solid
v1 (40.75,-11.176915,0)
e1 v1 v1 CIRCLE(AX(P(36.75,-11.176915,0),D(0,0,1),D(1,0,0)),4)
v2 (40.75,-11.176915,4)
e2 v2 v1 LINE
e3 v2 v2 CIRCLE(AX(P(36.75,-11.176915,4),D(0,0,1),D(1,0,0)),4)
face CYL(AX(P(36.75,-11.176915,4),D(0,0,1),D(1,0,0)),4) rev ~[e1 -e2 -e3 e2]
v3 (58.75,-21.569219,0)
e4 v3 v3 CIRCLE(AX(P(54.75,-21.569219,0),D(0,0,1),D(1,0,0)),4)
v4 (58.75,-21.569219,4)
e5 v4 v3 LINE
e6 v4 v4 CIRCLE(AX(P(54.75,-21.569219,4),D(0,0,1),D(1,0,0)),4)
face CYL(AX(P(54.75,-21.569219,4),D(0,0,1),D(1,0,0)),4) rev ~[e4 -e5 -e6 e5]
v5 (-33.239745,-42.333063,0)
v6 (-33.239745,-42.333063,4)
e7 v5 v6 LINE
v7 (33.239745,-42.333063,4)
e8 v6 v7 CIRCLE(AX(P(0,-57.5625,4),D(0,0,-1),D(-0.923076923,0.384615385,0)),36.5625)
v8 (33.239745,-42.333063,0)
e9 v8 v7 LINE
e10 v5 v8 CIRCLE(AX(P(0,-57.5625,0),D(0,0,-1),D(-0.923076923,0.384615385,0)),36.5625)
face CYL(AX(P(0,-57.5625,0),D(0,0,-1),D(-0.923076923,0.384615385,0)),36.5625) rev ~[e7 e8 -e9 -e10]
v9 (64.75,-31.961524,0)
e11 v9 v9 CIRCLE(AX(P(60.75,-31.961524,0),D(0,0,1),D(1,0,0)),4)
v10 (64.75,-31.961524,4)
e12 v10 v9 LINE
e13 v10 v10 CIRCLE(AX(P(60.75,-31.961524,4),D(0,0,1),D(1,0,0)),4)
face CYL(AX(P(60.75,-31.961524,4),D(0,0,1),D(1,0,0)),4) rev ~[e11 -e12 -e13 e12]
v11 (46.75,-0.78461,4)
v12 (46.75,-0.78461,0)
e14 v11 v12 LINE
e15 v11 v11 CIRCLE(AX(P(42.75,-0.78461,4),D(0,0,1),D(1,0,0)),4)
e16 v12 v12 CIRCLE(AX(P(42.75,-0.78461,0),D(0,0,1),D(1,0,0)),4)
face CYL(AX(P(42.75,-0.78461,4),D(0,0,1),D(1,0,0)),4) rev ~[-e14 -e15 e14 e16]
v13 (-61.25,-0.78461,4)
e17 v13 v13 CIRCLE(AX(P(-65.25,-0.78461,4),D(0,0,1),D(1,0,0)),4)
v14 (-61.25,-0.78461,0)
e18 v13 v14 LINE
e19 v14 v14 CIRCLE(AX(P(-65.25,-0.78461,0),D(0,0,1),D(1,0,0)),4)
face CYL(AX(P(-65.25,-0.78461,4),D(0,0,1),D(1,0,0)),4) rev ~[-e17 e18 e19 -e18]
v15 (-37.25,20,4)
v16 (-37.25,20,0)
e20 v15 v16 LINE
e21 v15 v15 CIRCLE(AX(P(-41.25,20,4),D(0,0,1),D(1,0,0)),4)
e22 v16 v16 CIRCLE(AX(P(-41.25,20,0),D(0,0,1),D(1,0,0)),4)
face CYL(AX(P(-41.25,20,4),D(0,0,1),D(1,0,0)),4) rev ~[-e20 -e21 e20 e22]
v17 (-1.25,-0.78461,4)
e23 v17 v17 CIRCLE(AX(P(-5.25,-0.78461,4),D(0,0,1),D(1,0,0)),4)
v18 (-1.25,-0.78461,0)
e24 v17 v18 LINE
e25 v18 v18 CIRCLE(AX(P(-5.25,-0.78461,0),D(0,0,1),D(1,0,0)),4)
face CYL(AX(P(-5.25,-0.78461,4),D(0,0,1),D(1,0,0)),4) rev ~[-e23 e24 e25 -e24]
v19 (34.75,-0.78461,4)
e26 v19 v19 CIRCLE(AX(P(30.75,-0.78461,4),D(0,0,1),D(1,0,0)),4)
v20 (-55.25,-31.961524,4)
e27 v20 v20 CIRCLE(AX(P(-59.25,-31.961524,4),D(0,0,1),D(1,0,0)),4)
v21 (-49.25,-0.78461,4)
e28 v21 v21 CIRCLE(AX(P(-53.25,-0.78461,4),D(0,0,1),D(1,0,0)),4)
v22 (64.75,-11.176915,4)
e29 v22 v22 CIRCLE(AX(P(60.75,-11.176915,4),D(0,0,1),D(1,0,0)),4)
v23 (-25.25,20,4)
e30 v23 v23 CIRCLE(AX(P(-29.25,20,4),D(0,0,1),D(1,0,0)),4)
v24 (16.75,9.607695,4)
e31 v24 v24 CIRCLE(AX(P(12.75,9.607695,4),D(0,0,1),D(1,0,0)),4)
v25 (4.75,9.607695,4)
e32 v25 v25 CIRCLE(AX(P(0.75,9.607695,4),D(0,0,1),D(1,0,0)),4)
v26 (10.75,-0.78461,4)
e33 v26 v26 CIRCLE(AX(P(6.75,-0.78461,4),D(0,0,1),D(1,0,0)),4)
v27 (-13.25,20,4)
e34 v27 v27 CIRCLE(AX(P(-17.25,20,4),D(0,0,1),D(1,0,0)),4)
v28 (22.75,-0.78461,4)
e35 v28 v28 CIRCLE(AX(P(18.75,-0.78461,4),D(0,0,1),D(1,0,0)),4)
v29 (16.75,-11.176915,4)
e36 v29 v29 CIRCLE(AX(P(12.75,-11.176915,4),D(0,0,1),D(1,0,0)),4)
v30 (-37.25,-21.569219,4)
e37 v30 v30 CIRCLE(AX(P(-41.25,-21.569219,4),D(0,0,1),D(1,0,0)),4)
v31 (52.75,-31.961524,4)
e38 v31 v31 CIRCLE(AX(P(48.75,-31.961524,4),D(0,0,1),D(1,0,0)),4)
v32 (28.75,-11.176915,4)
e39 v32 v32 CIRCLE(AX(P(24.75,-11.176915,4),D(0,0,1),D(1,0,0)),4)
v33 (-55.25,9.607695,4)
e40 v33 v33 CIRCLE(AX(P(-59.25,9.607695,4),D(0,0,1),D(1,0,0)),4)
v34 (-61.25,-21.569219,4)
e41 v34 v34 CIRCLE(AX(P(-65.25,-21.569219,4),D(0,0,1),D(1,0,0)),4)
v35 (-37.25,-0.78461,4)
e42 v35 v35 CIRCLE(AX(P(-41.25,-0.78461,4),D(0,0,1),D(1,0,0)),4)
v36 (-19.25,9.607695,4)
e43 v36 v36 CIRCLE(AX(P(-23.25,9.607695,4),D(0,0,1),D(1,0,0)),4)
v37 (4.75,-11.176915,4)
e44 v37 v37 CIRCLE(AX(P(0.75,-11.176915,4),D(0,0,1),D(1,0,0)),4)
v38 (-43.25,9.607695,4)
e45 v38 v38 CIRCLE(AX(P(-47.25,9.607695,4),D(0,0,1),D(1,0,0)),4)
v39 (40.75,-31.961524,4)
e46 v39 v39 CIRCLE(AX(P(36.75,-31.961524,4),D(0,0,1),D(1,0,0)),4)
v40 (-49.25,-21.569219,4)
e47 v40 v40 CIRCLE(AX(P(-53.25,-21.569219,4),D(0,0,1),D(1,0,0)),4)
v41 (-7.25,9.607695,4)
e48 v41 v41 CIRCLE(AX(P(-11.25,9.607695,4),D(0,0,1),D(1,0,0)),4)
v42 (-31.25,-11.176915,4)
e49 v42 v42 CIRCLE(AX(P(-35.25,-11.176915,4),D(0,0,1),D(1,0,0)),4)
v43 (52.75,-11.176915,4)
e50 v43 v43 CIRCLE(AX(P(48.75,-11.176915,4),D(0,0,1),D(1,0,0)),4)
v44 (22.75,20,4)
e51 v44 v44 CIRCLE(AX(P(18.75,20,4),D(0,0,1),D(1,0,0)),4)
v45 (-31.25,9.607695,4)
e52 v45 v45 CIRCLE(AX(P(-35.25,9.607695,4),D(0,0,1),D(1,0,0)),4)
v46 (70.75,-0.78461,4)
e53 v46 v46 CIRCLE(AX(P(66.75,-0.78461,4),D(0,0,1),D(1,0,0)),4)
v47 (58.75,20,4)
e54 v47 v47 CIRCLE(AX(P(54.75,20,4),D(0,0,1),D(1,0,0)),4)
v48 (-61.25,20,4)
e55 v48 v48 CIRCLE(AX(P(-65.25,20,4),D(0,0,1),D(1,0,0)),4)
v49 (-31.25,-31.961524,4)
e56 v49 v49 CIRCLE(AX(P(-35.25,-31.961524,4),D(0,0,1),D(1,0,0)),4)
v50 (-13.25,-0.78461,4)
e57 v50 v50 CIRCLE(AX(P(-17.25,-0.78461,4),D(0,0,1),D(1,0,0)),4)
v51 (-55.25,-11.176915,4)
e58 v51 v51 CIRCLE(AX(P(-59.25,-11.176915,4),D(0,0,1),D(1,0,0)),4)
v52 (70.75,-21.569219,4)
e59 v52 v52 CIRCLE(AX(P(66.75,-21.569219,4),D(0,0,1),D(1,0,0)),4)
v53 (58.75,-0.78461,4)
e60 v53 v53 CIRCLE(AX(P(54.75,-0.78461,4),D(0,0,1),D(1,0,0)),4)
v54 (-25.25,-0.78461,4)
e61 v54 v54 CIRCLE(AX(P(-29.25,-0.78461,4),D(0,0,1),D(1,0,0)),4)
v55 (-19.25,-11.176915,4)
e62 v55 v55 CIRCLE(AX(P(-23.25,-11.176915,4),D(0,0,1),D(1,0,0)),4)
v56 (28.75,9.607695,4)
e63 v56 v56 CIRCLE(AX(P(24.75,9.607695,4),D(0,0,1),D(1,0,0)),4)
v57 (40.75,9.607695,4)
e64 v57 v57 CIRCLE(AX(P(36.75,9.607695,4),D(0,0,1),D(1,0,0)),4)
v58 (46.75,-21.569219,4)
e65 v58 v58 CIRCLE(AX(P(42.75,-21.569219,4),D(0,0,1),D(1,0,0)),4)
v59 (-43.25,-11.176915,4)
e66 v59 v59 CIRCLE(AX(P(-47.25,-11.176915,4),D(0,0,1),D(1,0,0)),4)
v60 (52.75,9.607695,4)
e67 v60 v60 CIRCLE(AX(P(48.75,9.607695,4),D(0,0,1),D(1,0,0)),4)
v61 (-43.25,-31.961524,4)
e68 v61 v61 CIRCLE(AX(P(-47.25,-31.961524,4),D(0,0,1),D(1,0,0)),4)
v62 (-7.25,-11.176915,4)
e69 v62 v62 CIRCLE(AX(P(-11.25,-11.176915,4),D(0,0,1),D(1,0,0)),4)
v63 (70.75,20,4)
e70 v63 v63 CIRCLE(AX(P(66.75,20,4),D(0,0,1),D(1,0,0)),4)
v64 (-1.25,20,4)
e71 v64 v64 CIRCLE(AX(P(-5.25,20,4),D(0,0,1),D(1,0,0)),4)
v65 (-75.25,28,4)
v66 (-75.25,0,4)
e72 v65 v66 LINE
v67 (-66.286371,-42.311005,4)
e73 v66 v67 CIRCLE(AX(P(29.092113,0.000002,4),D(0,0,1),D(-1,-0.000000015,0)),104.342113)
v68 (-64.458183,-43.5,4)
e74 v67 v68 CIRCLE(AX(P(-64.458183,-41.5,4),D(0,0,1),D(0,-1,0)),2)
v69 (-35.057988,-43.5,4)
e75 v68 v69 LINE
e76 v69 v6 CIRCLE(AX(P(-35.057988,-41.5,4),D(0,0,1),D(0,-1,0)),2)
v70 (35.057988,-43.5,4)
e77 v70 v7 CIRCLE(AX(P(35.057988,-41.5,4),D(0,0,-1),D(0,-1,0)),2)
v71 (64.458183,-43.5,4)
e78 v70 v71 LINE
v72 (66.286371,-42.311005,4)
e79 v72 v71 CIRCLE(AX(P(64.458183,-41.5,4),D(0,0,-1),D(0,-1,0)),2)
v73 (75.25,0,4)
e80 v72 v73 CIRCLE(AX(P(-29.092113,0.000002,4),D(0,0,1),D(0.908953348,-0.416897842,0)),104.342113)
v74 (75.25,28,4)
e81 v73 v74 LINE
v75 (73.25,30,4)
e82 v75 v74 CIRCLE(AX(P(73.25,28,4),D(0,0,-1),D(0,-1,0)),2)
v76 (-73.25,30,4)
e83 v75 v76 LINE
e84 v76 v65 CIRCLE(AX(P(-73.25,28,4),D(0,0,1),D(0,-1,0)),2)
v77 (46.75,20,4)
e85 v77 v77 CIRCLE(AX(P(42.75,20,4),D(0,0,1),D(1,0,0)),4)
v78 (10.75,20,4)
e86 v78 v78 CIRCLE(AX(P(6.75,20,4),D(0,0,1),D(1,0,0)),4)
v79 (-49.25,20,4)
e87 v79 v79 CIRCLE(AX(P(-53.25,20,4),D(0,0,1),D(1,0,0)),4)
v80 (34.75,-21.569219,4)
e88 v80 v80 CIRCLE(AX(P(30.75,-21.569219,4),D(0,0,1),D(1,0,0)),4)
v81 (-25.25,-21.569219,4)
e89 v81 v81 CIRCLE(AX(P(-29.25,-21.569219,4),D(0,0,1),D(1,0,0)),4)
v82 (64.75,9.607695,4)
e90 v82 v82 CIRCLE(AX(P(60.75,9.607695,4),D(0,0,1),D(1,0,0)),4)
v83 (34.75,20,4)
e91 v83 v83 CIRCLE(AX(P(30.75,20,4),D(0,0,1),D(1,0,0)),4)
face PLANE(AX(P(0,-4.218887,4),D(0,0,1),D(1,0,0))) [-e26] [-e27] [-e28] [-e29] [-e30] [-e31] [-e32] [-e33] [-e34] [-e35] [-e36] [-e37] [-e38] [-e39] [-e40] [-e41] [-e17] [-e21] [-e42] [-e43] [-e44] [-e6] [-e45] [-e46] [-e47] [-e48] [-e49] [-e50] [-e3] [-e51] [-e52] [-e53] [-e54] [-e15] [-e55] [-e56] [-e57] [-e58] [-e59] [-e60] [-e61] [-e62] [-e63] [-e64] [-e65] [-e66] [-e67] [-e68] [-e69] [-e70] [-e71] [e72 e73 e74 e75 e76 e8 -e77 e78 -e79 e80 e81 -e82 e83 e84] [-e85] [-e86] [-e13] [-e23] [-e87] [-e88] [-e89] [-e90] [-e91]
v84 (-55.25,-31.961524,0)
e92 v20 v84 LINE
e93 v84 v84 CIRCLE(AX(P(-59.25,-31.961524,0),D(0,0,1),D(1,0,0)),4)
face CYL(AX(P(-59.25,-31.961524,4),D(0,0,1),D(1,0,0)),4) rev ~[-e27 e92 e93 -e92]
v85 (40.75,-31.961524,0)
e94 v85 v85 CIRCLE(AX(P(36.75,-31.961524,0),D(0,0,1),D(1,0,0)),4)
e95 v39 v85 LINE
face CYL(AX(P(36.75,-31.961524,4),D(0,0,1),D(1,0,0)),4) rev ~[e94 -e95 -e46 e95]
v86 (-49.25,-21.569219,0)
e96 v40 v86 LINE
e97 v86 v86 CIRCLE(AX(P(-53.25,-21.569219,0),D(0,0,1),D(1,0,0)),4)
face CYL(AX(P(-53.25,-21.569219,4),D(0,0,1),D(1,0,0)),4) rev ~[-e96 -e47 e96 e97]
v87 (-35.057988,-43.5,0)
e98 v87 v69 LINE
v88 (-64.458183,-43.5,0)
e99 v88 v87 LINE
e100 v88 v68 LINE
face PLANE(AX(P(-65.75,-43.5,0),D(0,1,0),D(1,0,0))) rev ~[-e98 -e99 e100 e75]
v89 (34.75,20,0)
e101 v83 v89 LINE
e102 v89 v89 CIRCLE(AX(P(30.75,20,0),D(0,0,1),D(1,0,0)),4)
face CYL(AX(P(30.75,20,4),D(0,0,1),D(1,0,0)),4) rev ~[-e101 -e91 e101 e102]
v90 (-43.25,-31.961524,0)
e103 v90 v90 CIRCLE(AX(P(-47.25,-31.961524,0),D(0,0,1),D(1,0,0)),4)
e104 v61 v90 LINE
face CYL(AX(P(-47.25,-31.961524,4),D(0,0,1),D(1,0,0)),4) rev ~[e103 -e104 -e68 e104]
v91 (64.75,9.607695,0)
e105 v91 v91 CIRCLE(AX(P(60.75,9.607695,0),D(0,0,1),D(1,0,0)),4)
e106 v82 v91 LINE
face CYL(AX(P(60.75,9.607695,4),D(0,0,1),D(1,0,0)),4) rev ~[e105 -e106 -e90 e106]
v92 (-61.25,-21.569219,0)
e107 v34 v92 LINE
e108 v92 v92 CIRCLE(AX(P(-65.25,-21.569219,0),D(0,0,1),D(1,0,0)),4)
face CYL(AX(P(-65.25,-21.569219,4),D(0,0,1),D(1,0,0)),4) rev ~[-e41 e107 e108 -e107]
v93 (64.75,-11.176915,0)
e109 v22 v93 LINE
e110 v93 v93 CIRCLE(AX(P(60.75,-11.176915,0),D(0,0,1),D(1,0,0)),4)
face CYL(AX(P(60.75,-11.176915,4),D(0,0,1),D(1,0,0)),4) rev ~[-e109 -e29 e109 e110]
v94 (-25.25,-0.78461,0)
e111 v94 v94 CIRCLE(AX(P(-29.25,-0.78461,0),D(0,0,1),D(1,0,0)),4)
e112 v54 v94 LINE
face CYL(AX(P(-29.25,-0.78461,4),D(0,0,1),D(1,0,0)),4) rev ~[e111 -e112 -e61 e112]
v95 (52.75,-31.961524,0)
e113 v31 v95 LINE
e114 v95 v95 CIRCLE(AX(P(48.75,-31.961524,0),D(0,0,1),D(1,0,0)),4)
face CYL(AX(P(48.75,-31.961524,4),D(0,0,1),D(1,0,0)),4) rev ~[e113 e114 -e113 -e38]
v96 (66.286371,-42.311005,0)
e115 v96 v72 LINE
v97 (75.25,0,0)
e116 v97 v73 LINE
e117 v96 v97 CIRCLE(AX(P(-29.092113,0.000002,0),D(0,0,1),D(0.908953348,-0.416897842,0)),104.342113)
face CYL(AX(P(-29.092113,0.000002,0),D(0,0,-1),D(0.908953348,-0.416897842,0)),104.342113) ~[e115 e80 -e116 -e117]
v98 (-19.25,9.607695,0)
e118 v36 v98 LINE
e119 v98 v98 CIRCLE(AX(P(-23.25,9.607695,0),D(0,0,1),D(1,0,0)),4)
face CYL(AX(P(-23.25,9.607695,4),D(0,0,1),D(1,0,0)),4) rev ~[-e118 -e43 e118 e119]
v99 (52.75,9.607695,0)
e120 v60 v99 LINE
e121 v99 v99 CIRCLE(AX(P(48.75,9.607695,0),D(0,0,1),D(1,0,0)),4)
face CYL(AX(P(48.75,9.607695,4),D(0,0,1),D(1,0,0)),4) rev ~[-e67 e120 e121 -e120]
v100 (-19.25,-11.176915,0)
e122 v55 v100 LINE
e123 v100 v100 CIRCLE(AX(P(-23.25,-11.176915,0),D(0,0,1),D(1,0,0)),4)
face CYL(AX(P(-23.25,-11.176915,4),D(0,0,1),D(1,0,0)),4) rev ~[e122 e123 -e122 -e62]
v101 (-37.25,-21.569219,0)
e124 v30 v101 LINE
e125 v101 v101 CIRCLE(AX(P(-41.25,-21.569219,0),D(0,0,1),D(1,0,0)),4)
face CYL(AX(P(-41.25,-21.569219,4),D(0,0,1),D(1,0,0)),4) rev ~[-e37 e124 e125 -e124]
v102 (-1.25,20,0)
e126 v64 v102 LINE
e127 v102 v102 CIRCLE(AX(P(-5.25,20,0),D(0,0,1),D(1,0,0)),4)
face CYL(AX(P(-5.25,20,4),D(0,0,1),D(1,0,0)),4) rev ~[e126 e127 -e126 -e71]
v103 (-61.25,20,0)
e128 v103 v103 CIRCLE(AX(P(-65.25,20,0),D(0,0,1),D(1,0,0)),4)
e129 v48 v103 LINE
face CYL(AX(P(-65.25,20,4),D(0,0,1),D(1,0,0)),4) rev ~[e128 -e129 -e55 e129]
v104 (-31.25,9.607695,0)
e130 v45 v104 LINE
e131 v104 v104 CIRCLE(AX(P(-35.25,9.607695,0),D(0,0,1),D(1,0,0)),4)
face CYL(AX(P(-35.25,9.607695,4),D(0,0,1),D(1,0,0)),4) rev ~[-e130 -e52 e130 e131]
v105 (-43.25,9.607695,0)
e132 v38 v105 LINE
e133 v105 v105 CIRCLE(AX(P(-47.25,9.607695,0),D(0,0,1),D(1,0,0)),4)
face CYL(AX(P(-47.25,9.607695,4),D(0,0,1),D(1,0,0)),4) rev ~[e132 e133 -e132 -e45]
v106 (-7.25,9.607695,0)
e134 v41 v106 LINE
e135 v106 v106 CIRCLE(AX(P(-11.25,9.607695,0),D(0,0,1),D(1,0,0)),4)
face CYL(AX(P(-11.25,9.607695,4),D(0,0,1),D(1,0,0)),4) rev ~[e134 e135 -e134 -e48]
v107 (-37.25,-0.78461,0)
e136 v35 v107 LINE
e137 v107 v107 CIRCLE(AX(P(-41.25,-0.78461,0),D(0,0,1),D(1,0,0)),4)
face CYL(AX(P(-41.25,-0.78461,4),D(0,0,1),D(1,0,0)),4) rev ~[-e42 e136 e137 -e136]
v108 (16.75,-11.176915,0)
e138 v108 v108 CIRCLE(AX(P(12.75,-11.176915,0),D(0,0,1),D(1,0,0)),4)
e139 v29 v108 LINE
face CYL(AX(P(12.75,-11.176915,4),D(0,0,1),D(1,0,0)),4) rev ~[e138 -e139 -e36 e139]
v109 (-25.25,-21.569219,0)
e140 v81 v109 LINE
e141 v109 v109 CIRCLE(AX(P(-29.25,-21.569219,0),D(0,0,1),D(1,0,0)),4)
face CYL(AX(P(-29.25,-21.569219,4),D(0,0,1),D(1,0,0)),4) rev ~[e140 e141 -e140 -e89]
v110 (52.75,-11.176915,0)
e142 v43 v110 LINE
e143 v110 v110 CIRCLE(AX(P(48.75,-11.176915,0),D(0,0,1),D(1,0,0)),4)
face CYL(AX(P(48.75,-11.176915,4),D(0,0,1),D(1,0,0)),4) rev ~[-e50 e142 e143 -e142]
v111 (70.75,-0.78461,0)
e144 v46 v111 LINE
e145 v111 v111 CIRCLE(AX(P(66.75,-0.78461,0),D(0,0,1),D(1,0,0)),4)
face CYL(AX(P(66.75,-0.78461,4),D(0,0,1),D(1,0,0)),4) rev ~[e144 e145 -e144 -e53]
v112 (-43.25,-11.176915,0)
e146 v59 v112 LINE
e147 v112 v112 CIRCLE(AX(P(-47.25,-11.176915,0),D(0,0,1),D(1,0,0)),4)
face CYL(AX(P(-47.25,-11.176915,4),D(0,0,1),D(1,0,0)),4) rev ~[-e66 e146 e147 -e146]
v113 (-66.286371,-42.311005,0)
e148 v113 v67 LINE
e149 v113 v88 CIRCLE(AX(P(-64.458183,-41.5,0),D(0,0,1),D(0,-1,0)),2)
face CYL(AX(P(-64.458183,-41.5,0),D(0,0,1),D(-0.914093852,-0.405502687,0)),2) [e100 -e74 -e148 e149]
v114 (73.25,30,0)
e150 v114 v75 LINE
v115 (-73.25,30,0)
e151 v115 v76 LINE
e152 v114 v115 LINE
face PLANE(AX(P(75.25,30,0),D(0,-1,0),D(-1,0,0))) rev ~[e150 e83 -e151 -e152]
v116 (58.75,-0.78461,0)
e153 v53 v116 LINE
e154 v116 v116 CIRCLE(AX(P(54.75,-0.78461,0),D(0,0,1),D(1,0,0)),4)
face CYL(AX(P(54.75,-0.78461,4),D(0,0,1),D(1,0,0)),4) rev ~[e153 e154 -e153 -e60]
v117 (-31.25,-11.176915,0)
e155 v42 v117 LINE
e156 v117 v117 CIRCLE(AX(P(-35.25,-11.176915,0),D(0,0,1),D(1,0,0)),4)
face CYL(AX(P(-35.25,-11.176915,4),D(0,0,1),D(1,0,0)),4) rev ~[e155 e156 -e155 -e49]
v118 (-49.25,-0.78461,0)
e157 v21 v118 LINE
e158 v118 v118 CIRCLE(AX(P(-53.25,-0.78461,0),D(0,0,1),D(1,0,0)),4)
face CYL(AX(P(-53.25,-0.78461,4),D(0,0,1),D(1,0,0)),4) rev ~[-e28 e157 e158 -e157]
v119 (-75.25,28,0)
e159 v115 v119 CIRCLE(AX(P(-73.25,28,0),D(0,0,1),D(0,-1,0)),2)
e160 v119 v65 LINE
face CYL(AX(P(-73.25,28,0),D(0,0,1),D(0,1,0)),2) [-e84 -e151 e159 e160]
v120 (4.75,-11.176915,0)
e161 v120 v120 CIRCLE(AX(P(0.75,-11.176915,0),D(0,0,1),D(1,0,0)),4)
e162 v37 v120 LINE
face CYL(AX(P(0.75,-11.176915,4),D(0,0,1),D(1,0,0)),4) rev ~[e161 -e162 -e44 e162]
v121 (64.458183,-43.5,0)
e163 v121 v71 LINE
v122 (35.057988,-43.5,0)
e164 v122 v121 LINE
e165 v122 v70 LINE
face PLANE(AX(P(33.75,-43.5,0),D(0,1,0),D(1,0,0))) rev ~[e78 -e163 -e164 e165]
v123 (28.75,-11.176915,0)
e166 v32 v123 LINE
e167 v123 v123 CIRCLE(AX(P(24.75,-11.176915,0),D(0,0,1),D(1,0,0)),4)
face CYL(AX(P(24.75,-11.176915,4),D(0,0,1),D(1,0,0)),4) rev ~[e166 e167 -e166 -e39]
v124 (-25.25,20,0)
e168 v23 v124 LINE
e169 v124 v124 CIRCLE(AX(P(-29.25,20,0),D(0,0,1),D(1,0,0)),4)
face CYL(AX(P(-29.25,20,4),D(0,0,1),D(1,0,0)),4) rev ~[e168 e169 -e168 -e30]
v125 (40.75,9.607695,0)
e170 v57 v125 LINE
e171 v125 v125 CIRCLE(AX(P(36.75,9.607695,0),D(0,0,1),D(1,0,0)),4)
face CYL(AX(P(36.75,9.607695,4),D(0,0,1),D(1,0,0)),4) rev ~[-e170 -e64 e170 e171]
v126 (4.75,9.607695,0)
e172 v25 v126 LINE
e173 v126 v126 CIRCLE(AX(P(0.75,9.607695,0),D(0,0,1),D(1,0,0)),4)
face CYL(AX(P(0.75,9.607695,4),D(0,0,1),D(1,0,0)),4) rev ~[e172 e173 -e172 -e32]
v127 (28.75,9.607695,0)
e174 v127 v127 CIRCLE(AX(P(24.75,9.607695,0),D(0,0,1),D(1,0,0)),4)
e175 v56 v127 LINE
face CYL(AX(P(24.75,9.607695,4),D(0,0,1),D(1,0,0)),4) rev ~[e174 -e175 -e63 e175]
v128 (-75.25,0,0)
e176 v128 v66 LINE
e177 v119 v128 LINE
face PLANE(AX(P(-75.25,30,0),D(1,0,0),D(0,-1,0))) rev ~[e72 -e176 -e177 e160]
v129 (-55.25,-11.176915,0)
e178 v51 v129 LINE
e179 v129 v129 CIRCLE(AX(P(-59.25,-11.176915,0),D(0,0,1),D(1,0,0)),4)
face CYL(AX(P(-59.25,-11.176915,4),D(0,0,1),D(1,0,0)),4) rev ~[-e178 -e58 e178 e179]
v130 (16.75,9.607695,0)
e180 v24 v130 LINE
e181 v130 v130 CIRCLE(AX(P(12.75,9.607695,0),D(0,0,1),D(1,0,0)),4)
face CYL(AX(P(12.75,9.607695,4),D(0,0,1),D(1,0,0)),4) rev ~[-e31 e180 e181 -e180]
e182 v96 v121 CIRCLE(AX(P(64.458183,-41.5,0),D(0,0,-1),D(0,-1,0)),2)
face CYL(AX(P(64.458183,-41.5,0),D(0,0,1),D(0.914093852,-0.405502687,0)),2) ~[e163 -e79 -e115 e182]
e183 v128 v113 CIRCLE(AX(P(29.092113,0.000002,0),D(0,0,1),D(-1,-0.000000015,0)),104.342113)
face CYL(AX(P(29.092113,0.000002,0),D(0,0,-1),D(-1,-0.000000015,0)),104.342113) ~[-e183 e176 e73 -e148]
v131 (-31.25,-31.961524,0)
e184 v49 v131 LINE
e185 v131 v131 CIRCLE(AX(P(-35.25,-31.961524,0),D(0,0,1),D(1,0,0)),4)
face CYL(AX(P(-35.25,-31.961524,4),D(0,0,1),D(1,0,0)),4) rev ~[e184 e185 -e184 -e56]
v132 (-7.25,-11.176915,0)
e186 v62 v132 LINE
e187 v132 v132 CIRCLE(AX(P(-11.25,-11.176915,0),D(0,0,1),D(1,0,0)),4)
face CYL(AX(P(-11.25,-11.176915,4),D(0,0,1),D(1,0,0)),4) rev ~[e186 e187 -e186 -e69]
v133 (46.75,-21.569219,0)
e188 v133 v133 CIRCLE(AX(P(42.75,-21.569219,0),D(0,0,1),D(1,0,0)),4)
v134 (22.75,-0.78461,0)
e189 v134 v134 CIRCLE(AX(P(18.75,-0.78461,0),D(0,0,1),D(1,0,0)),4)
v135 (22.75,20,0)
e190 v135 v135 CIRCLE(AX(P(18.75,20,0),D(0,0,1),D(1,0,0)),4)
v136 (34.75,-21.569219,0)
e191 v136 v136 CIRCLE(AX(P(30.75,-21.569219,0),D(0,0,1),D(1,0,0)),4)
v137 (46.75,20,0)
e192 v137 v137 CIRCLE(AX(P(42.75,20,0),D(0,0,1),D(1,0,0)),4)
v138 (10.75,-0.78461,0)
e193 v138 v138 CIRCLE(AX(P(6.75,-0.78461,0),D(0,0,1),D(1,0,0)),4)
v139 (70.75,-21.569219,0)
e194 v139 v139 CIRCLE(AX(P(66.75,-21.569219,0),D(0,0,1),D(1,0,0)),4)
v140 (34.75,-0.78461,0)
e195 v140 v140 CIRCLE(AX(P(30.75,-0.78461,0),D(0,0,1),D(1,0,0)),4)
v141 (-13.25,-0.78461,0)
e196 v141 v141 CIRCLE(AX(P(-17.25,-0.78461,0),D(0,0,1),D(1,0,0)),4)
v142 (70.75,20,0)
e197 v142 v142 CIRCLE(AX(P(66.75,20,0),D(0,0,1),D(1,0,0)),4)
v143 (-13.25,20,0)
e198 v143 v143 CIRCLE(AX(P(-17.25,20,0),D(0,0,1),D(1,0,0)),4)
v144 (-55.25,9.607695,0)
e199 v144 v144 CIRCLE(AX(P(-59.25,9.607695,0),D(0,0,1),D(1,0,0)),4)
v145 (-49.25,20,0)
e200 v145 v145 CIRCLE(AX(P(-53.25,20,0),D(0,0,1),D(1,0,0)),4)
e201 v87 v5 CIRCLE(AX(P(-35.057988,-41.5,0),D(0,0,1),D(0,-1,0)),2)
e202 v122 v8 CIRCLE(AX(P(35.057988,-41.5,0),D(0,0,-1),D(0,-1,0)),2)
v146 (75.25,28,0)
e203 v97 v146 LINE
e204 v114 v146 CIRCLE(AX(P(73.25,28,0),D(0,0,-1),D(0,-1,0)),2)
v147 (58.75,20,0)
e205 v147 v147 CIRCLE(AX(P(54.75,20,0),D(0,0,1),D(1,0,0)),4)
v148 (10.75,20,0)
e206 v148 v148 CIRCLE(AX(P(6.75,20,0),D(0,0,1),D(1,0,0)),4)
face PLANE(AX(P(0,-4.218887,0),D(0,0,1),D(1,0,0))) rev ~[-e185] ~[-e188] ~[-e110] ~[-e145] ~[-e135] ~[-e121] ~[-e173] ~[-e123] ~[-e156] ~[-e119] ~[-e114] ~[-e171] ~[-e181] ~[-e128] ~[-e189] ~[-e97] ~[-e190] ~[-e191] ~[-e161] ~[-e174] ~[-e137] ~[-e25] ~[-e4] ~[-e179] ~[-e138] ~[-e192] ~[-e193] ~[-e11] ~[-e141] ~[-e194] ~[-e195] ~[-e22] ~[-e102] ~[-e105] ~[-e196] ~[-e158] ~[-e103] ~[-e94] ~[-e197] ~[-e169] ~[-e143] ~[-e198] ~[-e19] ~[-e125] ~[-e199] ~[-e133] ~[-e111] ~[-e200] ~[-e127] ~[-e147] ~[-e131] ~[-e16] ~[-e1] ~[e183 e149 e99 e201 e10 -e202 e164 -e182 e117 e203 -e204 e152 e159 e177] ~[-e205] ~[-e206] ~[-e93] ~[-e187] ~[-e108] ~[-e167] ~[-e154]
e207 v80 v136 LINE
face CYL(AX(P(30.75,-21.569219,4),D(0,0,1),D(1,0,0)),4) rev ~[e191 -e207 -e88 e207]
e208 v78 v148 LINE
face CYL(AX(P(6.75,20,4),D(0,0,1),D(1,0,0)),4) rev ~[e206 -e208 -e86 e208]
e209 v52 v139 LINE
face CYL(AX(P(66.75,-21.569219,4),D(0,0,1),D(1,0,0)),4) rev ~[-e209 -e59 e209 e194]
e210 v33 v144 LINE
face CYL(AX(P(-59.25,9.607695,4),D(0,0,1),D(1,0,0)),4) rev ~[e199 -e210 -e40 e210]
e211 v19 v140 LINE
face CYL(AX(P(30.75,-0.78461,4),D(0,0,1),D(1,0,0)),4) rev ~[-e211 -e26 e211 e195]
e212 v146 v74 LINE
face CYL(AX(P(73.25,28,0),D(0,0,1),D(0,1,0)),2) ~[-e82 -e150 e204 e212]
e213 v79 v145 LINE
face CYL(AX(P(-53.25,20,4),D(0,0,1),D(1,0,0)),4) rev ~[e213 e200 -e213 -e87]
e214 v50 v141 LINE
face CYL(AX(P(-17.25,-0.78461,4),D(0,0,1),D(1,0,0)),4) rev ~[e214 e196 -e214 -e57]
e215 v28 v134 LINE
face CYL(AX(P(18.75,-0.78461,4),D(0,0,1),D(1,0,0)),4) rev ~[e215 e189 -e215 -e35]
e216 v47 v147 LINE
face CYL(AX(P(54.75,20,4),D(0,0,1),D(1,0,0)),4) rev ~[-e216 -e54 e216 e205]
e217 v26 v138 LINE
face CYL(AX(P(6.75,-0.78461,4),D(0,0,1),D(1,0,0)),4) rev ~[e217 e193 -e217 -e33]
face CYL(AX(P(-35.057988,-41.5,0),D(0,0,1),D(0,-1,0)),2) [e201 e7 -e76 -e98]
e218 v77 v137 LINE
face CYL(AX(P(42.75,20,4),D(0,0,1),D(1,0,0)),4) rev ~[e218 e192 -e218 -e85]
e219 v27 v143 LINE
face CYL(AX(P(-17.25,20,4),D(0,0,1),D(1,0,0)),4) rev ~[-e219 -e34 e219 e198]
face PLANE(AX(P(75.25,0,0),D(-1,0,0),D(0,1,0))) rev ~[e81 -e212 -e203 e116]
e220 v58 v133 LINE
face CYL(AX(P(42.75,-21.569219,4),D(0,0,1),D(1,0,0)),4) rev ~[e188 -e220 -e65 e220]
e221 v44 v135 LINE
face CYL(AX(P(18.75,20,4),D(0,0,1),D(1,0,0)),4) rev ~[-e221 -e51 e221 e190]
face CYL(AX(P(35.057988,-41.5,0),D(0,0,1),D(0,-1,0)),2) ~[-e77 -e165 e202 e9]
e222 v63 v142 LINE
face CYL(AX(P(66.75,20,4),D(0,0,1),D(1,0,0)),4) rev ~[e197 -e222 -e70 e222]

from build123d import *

# Parameters (mm, degrees)
F1_DEPTH = 4
F2_R     = 4
F3_DEPTH = 4.001
F4_R     = 2


with BuildPart() as f1:
    # F0 (on Top) → F1 (new body)
    with BuildSketch(Plane.XY):
        with BuildLine():
            Line((75.25, 30), (-75.25, 30))
            Line((-75.25, 30), (-75.25, 0))
            ThreePointArc((-75.25, 0), (-72.847337, -22.262637), (-65.75, -43.5))
            Line((-65.75, -43.5), (-33.75, -43.5))
            ThreePointArc((-33.75, -43.5), (0, -21), (33.75, -43.5))
            Line((33.75, -43.5), (65.75, -43.5))
            ThreePointArc((65.75, -43.5), (72.847337, -22.262637), (75.25, 0))
            Line((75.25, 0), (75.25, 30))
        make_face()
    extrude(amount=F1_DEPTH)

    # F2 (on face) → F3 (cut, through all)
    with BuildSketch(Plane.XY.offset(4)):
        with Locations((-65.25, 20)):
            Circle(F2_R)
        with Locations((-59.25, 9.607695)):
            Circle(F2_R)
        with Locations((-53.25, 20)):
            Circle(F2_R)
        with Locations((-47.25, 9.607695)):
            Circle(F2_R)
        with Locations((-41.25, 20)):
            Circle(F2_R)
        with Locations((-35.25, 9.607695)):
            Circle(F2_R)
        with Locations((-29.25, 20)):
            Circle(F2_R)
        with Locations((-23.25, 9.607695)):
            Circle(F2_R)
        with Locations((-17.25, 20)):
            Circle(F2_R)
        with Locations((-11.25, 9.607695)):
            Circle(F2_R)
        with Locations((-5.25, 20)):
            Circle(F2_R)
        with Locations((0.75, 9.607695)):
            Circle(F2_R)
        with Locations((6.75, 20)):
            Circle(F2_R)
        with Locations((12.75, 9.607695)):
            Circle(F2_R)
        with Locations((18.75, 20)):
            Circle(F2_R)
        with Locations((24.75, 9.607695)):
            Circle(F2_R)
        with Locations((30.75, 20)):
            Circle(F2_R)
        with Locations((36.75, 9.607695)):
            Circle(F2_R)
        with Locations((42.75, 20)):
            Circle(F2_R)
        with Locations((48.75, 9.607695)):
            Circle(F2_R)
        with Locations((54.75, 20)):
            Circle(F2_R)
        with Locations((60.75, 9.607695)):
            Circle(F2_R)
        with Locations((66.75, 20)):
            Circle(F2_R)
        with Locations((-65.25, -21.569219)):
            Circle(F2_R)
        with Locations((-59.25, -31.961524)):
            Circle(F2_R)
        with Locations((-65.25, -0.78461)):
            Circle(F2_R)
        with Locations((-59.25, -11.176915)):
            Circle(F2_R)
        with Locations((-53.25, -21.569219)):
            Circle(F2_R)
        with Locations((-47.25, -31.961524)):
            Circle(F2_R)
        with Locations((-53.25, -0.78461)):
            Circle(F2_R)
        with Locations((-47.25, -11.176915)):
            Circle(F2_R)
        with Locations((-41.25, -21.569219)):
            Circle(F2_R)
        with Locations((-35.25, -31.961524)):
            Circle(F2_R)
        with Locations((-41.25, -0.78461)):
            Circle(F2_R)
        with Locations((-35.25, -11.176915)):
            Circle(F2_R)
        with Locations((-29.25, -21.569219)):
            Circle(F2_R)
        with Locations((-29.25, -0.78461)):
            Circle(F2_R)
        with Locations((-23.25, -11.176915)):
            Circle(F2_R)
        with Locations((-17.25, -0.78461)):
            Circle(F2_R)
        with Locations((-11.25, -11.176915)):
            Circle(F2_R)
        with Locations((-5.25, -0.78461)):
            Circle(F2_R)
        with Locations((0.75, -11.176915)):
            Circle(F2_R)
        with Locations((6.75, -0.78461)):
            Circle(F2_R)
        with Locations((12.75, -11.176915)):
            Circle(F2_R)
        with Locations((18.75, -0.78461)):
            Circle(F2_R)
        with Locations((24.75, -11.176915)):
            Circle(F2_R)
        with Locations((30.75, -21.569219)):
            Circle(F2_R)
        with Locations((36.75, -31.961524)):
            Circle(F2_R)
        with Locations((30.75, -0.78461)):
            Circle(F2_R)
        with Locations((36.75, -11.176915)):
            Circle(F2_R)
        with Locations((42.75, -21.569219)):
            Circle(F2_R)
        with Locations((48.75, -31.961524)):
            Circle(F2_R)
        with Locations((42.75, -0.78461)):
            Circle(F2_R)
        with Locations((48.75, -11.176915)):
            Circle(F2_R)
        with Locations((54.75, -21.569219)):
            Circle(F2_R)
        with Locations((60.75, -31.961524)):
            Circle(F2_R)
        with Locations((54.75, -0.78461)):
            Circle(F2_R)
        with Locations((60.75, -11.176915)):
            Circle(F2_R)
        with Locations((66.75, -21.569219)):
            Circle(F2_R)
        with Locations((66.75, -0.78461)):
            Circle(F2_R)
    extrude(amount=-F3_DEPTH, mode=Mode.SUBTRACT)

    # F4
    f4_edges = [f1.edges().sort_by_distance(p)[0] for p in [
        (-75.25, 30, 2),
        (-65.75, -43.5, 2),
        (-33.75, -43.5, 2),
        (33.75, -43.5, 2),
        (65.75, -43.5, 2),
        (75.25, 30, 2),
    ]]
    fillet(f4_edges, radius=F4_R)


solid = f1.part
